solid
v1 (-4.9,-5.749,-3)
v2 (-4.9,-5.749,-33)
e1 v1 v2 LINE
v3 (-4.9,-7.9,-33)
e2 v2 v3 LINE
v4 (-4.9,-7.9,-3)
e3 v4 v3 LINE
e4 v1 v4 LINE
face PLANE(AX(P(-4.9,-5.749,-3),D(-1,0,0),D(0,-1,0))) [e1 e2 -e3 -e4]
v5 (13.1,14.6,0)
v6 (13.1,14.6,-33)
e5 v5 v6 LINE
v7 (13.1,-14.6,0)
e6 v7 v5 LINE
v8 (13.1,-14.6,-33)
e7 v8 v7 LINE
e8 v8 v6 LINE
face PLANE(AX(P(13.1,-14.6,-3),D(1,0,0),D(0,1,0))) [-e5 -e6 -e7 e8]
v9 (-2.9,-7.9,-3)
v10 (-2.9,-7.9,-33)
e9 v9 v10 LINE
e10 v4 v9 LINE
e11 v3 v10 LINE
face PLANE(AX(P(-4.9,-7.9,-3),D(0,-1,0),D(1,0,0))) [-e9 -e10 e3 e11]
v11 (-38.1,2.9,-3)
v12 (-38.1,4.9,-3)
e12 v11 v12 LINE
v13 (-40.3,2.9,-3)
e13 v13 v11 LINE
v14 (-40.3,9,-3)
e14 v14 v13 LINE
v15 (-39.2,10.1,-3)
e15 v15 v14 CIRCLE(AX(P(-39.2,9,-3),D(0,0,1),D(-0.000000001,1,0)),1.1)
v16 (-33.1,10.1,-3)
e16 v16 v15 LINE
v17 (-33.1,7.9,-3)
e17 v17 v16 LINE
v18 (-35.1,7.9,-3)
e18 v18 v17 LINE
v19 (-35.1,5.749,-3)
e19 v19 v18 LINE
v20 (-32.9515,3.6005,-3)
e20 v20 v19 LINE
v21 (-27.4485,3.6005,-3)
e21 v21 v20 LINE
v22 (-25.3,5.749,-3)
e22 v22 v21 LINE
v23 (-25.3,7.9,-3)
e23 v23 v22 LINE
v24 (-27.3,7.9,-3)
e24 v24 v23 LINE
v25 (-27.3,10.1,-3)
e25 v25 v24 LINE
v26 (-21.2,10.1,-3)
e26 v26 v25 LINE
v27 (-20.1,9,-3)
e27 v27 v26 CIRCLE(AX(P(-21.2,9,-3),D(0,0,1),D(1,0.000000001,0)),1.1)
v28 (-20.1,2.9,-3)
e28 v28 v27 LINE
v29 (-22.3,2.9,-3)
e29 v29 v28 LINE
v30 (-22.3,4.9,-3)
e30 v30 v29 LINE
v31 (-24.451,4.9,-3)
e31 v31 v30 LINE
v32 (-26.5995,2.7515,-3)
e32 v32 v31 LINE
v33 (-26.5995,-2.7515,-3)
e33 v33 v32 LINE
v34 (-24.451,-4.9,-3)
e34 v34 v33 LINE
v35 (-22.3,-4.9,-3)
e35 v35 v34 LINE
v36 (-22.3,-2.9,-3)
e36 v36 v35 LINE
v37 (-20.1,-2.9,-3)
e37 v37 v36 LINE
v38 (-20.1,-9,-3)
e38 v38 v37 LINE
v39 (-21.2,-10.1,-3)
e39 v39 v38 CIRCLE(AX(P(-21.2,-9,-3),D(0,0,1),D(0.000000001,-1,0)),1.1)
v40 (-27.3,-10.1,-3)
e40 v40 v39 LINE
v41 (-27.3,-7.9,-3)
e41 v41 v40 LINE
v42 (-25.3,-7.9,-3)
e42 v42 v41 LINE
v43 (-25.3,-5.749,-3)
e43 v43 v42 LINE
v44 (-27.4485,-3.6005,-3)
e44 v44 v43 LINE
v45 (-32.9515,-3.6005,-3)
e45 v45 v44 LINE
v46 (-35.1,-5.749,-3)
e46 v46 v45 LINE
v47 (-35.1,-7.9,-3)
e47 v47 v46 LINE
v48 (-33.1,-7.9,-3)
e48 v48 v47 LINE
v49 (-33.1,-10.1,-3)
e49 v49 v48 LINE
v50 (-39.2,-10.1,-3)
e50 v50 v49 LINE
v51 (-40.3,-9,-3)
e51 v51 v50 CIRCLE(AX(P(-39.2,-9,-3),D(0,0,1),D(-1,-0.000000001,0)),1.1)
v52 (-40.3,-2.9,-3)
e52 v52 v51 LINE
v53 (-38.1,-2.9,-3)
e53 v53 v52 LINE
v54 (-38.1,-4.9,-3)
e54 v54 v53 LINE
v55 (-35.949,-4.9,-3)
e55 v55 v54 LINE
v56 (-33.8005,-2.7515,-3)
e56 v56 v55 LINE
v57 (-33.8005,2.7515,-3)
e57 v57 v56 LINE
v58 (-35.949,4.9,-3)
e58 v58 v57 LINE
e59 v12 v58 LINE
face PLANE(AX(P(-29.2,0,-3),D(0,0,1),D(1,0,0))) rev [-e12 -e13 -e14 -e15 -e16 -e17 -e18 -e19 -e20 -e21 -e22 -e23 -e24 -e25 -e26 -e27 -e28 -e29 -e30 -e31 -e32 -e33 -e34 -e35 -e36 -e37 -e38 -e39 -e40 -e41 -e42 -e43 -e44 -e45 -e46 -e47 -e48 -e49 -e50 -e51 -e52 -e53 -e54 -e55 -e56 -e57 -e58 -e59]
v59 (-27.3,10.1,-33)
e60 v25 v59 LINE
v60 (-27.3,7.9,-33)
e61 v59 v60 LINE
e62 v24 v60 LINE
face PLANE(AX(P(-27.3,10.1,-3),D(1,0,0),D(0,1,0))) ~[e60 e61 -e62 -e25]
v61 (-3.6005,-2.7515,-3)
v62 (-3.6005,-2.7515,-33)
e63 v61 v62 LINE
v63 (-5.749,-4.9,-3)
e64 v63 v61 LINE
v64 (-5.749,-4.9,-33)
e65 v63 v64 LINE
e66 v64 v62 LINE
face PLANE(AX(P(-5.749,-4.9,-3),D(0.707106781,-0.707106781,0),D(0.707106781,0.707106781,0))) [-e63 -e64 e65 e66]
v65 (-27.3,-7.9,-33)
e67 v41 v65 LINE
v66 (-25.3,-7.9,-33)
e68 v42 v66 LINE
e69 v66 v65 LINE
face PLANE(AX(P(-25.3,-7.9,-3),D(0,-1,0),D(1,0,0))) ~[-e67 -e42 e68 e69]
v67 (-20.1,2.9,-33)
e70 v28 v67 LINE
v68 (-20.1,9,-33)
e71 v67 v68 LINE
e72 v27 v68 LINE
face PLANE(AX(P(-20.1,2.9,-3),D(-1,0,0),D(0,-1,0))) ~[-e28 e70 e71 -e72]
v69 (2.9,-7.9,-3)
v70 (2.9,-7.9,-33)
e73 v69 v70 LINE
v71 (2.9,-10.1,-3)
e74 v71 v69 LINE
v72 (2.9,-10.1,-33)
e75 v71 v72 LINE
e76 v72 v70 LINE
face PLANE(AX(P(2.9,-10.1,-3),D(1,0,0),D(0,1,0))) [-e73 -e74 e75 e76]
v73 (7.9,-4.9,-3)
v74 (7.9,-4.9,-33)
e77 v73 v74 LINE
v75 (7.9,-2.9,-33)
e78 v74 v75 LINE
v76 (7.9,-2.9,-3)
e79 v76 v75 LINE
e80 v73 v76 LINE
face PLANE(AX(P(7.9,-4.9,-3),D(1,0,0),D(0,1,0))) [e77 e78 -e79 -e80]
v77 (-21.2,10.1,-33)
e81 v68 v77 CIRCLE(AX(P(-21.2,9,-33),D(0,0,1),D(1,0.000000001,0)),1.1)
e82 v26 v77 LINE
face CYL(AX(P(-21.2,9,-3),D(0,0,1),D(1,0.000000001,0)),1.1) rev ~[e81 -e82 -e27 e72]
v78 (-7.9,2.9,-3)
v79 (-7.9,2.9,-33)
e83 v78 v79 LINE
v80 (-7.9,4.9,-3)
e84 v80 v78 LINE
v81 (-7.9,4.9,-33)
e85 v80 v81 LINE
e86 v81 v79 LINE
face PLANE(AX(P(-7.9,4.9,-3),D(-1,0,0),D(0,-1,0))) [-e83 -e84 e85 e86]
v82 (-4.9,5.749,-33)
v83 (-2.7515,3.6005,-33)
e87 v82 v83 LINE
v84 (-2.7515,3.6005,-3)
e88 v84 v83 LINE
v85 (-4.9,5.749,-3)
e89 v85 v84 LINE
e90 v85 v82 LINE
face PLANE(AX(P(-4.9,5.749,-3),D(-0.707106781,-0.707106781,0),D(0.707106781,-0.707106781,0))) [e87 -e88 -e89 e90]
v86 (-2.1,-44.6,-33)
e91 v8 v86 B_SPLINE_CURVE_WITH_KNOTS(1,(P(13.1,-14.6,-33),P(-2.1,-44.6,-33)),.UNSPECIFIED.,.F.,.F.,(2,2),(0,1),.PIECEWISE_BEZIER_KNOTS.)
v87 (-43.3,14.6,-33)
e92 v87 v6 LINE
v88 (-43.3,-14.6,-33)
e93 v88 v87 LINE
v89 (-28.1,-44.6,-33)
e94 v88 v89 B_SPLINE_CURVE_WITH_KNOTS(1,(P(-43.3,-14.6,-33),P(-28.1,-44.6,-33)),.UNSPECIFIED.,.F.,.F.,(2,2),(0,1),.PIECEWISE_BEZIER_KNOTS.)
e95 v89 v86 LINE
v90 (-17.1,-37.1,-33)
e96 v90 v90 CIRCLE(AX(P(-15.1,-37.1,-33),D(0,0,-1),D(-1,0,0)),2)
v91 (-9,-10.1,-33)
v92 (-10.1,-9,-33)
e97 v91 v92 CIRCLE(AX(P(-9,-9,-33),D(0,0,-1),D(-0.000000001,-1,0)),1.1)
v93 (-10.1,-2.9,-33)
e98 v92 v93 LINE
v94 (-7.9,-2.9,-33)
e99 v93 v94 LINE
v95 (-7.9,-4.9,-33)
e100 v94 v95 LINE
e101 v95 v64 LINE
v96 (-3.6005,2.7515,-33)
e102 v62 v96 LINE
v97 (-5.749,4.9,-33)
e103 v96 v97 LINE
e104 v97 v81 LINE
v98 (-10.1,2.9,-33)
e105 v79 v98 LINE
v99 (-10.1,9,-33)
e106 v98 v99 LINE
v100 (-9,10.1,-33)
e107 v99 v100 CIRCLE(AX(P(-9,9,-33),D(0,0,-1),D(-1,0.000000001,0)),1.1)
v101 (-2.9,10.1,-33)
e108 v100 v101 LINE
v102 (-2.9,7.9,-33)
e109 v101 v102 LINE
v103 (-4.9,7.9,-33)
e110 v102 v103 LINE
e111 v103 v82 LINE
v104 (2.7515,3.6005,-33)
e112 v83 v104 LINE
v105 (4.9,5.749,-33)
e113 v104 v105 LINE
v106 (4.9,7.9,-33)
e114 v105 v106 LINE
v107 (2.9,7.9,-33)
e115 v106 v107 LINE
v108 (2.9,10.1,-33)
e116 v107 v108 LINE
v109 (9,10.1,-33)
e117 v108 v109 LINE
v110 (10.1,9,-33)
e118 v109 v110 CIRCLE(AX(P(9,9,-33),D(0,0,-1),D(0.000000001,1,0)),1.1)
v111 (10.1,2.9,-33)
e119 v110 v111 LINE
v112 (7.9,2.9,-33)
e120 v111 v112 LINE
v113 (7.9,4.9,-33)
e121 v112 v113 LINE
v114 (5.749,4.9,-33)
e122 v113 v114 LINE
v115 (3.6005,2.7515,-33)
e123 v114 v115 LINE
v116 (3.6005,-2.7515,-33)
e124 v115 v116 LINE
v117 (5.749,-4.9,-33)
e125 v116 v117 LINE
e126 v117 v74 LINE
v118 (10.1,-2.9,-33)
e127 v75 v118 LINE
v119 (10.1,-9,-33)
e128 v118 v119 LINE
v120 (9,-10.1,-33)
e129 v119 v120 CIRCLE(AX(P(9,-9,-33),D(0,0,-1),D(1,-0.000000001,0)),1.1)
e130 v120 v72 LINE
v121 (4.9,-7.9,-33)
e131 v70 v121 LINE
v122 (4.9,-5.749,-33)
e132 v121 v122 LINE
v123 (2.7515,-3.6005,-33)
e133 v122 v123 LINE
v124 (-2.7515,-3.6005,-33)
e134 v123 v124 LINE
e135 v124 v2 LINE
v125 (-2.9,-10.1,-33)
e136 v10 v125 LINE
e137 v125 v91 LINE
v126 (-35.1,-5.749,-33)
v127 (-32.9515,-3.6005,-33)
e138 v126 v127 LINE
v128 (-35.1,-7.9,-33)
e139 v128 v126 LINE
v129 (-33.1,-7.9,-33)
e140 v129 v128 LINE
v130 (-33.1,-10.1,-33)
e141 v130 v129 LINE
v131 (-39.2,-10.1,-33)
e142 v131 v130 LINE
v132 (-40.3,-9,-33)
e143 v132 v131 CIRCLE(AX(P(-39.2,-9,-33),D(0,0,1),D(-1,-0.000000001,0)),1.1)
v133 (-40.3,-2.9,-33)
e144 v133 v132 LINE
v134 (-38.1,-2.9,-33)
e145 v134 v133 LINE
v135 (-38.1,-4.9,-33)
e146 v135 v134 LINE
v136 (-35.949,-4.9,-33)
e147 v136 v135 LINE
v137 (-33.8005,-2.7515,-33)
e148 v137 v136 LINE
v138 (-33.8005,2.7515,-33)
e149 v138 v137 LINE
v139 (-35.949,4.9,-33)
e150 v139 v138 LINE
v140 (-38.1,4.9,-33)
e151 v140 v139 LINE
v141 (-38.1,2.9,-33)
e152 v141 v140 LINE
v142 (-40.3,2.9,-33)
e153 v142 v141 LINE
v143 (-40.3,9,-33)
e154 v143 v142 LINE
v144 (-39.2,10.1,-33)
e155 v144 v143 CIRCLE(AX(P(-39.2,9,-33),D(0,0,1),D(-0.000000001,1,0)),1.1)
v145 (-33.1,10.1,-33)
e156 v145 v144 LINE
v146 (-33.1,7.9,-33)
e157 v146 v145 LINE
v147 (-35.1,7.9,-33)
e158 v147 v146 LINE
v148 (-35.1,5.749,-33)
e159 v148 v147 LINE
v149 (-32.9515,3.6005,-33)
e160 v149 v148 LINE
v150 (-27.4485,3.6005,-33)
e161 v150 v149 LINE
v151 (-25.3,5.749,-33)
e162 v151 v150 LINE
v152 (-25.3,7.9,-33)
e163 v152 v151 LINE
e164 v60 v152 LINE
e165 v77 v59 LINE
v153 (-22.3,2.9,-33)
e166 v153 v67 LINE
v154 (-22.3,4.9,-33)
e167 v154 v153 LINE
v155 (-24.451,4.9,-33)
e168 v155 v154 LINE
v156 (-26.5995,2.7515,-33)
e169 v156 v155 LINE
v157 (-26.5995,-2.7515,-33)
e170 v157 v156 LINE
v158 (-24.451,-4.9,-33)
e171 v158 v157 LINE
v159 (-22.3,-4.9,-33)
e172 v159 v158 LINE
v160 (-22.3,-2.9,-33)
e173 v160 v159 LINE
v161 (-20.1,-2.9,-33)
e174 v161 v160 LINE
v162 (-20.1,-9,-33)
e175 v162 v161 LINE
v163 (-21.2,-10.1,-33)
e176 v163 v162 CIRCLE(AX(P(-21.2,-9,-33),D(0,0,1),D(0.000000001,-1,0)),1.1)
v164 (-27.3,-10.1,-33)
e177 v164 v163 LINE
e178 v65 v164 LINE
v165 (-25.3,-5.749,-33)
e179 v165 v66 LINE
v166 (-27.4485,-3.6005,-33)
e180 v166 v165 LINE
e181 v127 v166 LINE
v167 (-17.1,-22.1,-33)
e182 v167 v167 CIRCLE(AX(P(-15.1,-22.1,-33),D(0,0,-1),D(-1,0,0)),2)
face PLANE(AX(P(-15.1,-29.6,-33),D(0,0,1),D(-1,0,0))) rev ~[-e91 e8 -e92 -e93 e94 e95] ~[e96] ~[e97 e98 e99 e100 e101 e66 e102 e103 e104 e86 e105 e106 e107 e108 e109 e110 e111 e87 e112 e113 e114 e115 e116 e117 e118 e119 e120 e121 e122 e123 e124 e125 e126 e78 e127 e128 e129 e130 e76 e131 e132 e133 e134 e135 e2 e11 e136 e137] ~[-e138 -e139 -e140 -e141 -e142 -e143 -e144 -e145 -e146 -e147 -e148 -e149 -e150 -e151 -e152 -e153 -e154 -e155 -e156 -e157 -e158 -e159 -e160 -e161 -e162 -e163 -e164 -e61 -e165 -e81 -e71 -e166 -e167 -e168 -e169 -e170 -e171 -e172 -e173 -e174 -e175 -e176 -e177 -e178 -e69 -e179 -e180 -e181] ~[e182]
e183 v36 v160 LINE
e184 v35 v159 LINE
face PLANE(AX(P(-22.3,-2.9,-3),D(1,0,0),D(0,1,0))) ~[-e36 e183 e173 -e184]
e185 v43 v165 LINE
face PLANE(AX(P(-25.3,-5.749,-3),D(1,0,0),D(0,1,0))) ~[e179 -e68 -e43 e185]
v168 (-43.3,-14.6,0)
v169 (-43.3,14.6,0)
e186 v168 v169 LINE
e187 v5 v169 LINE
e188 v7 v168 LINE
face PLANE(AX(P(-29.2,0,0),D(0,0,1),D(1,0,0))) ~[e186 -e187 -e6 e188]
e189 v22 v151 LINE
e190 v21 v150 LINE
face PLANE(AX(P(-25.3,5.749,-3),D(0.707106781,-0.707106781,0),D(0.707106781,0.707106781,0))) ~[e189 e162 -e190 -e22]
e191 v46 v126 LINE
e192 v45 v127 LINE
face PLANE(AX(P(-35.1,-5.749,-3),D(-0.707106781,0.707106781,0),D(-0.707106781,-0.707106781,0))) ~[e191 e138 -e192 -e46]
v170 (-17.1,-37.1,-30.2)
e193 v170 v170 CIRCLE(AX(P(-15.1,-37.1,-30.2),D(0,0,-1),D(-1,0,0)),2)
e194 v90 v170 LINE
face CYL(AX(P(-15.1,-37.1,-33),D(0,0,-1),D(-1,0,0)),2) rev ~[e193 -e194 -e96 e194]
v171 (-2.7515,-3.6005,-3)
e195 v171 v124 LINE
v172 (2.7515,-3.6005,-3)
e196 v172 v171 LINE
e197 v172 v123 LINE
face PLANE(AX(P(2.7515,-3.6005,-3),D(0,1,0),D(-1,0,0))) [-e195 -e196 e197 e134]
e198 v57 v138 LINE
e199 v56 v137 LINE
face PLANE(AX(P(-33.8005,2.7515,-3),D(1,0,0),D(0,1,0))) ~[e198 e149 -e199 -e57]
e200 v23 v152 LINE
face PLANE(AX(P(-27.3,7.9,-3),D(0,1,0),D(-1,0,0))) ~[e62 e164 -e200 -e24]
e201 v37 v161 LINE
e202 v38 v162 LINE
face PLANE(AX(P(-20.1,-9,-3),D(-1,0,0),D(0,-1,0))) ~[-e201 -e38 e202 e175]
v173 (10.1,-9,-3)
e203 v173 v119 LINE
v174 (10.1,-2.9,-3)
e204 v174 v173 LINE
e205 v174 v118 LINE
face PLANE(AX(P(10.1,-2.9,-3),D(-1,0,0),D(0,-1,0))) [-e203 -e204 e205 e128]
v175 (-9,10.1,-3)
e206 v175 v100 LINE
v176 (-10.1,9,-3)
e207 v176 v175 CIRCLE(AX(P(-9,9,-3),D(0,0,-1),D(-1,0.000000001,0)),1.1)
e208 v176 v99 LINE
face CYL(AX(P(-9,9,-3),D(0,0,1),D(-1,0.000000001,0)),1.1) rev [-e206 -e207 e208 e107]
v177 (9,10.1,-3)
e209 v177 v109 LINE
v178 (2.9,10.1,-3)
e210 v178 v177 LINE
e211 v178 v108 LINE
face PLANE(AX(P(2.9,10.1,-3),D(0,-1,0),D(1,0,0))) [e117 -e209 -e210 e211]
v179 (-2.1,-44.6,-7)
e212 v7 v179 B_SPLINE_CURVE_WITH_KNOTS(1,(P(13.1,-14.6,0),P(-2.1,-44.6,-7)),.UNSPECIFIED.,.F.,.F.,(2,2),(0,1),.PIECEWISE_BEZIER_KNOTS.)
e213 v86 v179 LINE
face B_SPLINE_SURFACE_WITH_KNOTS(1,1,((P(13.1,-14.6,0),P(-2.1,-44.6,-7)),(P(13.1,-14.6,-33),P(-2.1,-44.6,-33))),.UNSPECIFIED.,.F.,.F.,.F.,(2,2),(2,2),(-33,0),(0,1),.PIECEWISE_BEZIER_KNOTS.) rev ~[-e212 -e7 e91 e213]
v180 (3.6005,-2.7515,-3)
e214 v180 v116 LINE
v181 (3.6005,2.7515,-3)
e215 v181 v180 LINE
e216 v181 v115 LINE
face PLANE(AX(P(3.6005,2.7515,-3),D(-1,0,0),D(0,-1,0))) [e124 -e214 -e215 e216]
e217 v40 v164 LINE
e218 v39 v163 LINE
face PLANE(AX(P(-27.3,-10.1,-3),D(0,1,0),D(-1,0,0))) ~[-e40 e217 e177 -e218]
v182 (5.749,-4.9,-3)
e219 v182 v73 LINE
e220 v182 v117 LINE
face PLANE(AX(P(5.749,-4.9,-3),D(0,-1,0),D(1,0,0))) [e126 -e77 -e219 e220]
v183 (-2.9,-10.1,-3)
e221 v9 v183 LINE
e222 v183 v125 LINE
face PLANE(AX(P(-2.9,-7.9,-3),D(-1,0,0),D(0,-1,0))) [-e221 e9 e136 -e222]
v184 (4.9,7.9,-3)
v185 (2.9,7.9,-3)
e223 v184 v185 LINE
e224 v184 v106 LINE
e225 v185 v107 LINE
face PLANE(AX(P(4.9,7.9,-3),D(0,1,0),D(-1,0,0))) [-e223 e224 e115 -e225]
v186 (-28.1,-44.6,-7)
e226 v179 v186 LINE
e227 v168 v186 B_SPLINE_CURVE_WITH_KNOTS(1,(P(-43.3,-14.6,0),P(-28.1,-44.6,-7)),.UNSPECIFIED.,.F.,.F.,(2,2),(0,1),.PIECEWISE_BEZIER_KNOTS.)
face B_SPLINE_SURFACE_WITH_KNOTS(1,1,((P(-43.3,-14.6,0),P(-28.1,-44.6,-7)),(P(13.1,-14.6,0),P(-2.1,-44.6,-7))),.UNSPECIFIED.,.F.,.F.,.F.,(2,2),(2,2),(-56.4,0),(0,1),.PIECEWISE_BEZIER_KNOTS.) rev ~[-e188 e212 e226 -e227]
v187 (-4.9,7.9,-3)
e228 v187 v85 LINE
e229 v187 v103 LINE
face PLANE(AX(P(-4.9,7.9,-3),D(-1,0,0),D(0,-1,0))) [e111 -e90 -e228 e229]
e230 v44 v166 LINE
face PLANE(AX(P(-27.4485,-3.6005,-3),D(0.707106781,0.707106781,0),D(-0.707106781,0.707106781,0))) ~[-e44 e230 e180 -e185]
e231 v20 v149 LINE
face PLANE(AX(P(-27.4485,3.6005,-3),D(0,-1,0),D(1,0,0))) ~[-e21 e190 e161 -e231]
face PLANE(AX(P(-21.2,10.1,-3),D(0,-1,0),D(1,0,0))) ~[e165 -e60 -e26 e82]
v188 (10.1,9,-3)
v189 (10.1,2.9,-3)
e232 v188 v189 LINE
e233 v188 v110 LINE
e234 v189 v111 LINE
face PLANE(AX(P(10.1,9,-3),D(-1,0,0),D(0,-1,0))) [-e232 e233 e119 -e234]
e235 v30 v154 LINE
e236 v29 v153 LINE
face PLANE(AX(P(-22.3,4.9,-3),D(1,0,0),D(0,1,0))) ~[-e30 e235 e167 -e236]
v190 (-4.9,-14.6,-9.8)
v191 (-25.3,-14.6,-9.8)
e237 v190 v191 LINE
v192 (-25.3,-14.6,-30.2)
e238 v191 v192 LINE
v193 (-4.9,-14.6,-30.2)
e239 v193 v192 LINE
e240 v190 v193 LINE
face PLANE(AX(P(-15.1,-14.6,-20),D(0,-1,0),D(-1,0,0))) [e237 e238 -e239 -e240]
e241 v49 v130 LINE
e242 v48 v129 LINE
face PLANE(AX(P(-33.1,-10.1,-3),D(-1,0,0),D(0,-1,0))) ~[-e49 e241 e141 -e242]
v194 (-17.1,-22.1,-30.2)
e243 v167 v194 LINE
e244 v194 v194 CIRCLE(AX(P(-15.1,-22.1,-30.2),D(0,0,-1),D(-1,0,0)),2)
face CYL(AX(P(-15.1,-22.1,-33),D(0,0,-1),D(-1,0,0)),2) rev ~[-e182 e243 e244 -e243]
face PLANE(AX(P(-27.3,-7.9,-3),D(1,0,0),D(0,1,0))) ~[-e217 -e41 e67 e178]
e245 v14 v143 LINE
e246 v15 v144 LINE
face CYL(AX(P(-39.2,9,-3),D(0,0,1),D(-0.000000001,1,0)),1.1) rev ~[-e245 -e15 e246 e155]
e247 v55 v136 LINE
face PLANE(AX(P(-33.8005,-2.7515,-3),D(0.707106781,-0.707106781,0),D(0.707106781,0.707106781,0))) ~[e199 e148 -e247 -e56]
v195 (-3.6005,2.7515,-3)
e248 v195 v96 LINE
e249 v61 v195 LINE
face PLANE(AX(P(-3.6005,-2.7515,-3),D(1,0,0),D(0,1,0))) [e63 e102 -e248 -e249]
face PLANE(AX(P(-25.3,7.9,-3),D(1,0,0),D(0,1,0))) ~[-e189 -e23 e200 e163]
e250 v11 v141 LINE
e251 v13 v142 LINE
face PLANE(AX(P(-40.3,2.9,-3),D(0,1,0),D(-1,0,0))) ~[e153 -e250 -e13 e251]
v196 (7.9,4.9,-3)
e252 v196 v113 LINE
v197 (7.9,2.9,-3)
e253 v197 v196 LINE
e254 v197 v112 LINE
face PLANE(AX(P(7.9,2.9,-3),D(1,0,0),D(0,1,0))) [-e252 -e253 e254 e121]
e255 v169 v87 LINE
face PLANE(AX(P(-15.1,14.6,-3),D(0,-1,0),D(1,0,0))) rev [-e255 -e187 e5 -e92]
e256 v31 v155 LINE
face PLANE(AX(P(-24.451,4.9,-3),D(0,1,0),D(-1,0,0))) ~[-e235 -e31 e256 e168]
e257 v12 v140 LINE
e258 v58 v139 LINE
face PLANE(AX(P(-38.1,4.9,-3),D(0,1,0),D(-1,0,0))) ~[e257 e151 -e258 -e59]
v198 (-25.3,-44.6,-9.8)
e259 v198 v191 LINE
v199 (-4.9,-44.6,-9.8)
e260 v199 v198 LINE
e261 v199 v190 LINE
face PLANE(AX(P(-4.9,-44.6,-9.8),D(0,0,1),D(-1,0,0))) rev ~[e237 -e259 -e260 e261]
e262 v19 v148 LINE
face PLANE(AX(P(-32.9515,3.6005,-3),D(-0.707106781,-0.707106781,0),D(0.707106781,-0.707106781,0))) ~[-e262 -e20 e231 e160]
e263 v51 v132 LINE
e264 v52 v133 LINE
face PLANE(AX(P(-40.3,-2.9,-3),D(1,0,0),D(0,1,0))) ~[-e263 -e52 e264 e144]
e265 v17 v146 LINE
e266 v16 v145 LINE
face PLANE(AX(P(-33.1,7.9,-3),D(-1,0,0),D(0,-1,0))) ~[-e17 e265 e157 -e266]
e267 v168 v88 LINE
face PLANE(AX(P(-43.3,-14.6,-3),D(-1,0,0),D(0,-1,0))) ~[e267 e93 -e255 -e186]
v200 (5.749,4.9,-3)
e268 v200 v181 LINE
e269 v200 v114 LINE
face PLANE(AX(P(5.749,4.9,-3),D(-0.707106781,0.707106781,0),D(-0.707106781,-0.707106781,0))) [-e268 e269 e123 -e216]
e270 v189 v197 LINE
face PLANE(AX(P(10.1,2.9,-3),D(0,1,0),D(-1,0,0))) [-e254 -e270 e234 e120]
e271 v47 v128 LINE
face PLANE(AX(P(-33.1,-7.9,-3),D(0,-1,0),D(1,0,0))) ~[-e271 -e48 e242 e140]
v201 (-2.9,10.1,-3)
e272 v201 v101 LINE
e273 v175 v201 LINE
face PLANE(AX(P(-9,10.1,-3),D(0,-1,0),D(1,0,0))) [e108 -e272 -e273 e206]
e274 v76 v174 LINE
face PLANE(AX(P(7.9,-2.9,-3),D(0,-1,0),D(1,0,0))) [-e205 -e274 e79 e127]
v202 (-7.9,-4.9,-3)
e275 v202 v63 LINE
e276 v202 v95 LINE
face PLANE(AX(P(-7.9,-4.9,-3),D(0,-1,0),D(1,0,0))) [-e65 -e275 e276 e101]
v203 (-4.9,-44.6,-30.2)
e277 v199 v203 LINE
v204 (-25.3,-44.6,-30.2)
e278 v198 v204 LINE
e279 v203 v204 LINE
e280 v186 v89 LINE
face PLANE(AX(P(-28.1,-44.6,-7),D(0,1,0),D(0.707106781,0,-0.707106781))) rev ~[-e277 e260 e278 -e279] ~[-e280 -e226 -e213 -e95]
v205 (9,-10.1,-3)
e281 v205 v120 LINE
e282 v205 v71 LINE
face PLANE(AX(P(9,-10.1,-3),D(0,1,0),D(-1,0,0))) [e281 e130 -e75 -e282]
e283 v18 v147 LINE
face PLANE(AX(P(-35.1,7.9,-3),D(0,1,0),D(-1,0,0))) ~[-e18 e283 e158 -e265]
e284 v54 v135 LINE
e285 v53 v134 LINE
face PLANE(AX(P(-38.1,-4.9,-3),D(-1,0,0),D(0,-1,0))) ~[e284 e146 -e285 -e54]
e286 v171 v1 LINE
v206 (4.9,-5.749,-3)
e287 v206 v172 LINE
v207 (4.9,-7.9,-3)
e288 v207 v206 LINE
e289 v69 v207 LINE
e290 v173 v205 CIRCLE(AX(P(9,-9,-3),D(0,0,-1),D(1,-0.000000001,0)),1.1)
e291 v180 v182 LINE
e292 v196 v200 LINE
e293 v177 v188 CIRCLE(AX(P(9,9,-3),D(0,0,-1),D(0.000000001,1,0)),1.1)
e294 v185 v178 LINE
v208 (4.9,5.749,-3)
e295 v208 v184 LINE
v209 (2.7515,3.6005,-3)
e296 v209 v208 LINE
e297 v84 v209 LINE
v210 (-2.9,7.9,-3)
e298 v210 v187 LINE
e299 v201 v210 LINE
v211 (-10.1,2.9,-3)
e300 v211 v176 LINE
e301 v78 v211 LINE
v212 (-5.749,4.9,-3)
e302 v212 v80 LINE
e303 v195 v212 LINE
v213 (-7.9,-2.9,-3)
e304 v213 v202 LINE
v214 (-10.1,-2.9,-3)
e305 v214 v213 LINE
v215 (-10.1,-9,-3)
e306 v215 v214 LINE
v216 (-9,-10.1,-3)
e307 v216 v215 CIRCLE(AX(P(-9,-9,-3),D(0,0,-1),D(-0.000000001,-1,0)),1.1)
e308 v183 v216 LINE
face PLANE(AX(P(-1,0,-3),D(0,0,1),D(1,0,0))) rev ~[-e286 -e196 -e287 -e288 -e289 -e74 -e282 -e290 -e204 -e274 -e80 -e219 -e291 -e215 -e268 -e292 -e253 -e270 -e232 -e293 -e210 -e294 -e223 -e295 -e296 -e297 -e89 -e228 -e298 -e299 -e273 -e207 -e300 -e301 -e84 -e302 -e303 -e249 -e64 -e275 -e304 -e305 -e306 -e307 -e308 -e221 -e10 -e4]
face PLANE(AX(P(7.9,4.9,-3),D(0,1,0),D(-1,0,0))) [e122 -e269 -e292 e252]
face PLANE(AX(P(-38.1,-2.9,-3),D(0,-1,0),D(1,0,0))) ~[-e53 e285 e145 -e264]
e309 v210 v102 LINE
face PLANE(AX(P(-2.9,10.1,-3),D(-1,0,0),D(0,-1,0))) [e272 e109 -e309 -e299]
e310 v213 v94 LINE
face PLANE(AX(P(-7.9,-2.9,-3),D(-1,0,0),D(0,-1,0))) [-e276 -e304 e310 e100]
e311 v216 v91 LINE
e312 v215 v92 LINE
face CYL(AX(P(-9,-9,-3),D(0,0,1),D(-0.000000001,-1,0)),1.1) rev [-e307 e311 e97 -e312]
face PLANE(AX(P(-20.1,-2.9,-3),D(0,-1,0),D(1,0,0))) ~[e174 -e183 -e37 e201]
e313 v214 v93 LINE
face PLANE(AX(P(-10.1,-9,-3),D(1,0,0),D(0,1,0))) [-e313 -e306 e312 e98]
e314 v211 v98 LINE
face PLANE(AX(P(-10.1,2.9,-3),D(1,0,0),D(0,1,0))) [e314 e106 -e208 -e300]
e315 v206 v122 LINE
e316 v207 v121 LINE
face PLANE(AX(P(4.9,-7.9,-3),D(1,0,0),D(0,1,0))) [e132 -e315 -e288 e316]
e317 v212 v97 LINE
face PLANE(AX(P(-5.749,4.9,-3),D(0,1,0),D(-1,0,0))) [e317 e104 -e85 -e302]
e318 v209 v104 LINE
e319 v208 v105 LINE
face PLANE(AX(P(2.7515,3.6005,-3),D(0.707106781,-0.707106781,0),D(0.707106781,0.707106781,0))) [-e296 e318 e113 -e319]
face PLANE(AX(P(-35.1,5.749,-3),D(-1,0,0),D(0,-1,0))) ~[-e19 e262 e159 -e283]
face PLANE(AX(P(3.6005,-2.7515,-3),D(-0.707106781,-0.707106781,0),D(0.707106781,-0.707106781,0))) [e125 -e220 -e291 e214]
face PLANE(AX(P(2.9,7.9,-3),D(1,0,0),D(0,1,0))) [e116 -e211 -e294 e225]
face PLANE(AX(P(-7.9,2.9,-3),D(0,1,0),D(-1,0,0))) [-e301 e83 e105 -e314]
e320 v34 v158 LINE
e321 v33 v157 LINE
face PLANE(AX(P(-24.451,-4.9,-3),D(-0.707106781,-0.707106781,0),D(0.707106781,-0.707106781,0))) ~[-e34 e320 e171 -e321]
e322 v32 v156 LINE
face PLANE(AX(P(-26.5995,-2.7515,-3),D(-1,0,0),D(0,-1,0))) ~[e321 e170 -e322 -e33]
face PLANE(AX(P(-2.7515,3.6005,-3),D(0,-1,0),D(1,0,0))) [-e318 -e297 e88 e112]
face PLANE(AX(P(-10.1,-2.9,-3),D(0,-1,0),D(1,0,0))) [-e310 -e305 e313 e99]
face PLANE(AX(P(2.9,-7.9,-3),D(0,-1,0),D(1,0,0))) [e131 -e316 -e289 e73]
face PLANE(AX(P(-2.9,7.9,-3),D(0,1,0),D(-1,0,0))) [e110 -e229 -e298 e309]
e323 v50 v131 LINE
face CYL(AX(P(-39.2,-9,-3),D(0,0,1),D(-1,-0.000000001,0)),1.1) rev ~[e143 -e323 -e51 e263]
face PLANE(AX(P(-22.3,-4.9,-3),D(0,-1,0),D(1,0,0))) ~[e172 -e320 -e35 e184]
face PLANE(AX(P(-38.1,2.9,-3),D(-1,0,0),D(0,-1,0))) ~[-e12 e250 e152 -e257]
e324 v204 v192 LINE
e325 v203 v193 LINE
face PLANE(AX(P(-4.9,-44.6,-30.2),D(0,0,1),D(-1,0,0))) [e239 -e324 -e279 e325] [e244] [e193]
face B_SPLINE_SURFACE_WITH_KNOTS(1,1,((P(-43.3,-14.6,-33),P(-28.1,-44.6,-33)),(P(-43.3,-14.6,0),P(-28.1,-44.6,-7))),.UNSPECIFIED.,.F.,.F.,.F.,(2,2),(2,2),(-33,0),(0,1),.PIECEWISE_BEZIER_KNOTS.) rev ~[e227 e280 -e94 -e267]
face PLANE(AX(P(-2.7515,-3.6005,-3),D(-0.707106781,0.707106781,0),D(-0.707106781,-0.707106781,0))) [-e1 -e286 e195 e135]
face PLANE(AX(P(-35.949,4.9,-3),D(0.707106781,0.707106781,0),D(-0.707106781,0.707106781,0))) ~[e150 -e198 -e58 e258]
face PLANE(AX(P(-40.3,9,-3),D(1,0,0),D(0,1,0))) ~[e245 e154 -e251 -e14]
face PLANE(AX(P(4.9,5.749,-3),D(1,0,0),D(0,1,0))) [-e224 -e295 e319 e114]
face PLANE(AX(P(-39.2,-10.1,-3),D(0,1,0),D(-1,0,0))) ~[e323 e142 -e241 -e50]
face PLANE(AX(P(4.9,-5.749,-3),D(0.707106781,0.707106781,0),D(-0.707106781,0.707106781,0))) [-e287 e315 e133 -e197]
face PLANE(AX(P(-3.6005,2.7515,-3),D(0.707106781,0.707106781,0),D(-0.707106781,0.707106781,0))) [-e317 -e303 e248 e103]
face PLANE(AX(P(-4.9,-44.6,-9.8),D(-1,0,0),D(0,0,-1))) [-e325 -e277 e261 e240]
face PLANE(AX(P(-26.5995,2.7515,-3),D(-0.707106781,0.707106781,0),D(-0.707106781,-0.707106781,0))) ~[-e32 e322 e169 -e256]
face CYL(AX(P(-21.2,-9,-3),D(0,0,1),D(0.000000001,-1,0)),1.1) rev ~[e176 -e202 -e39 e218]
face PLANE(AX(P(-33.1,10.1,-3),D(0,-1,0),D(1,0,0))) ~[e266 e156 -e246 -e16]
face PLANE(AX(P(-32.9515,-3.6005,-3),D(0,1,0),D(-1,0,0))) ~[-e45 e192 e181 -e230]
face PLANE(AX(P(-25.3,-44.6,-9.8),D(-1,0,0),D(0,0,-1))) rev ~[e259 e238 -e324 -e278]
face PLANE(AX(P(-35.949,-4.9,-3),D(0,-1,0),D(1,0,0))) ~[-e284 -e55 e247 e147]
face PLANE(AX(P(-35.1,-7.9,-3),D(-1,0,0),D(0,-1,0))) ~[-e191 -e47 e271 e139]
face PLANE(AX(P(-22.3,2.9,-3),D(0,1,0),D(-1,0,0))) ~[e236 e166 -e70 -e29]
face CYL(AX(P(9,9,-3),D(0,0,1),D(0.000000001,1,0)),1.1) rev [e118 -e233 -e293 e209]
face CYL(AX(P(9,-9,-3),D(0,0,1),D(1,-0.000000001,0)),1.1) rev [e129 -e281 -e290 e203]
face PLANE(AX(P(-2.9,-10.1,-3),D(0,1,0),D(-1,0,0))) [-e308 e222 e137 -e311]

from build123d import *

# Parameters (mm, degrees)
SKETCH1_W           = 28.2
SKETCH1_H           = 29.2
BOSS_EXTRUDE1_DEPTH = 3
BOSS_EXTRUDE2_START = -3
SKETCH1_3_W         = 28.2
SKETCH1_3_H         = 29.2
BOSS_EXTRUDE2_DEPTH = 30
SKETCH3_3_W         = 20.4
SKETCH3_3_H         = 20.4
CUT_EXTRUDE1_DEPTH  = 30
CUT_EXTRUDE2_REACH  = 72.378
SKETCH4_R           = 2


with BuildPart() as part:
    # Sketch1 → Boss-Extrude1 (new body)
    with BuildSketch(Plane.XY):
        with Locations((-1, 0)):
            Rectangle(SKETCH1_W, SKETCH1_H)
    boss_extrude1 = extrude(amount=-BOSS_EXTRUDE1_DEPTH)

    # Sketch1<3> → Boss-Extrude2 (add)
    with BuildSketch(Plane.XY.offset(BOSS_EXTRUDE2_START)):
        with Locations((-1, 0)):
            Rectangle(SKETCH1_3_W, SKETCH1_3_H)
        with BuildLine():
            Line((-10.1, 2.9), (-10.1, 9))
            ThreePointArc((-10.1, 9), (-9.777817459, 9.777817459), (-9, 10.1))
            Line((-9, 10.1), (-2.9, 10.1))
            Line((-2.9, 10.1), (-2.9, 7.9))
            Line((-2.9, 7.9), (-4.9, 7.9))
            Line((-4.9, 7.9), (-4.9, 5.749))
            Line((-4.9, 5.749), (-2.7515, 3.6005))
            Line((-2.7515, 3.6005), (2.7515, 3.6005))
            Line((2.7515, 3.6005), (4.9, 5.749))
            Line((4.9, 5.749), (4.9, 7.9))
            Line((4.9, 7.9), (2.9, 7.9))
            Line((2.9, 7.9), (2.9, 10.1))
            Line((2.9, 10.1), (9, 10.1))
            ThreePointArc((9, 10.1), (9.777817459, 9.777817459), (10.1, 9))
            Line((10.1, 9), (10.1, 2.9))
            Line((10.1, 2.9), (7.9, 2.9))
            Line((7.9, 2.9), (7.9, 4.9))
            Line((7.9, 4.9), (5.749, 4.9))
            Line((5.749, 4.9), (3.6005, 2.7515))
            Line((3.6005, 2.7515), (3.6005, -2.7515))
            Line((3.6005, -2.7515), (5.749, -4.9))
            Line((5.749, -4.9), (7.9, -4.9))
            Line((7.9, -4.9), (7.9, -2.9))
            Line((7.9, -2.9), (10.1, -2.9))
            Line((10.1, -2.9), (10.1, -9))
            ThreePointArc((10.1, -9), (9.777817459, -9.777817459), (9, -10.1))
            Line((9, -10.1), (2.9, -10.1))
            Line((2.9, -10.1), (2.9, -7.9))
            Line((2.9, -7.9), (4.9, -7.9))
            Line((4.9, -7.9), (4.9, -5.749))
            Line((4.9, -5.749), (2.7515, -3.6005))
            Line((2.7515, -3.6005), (-2.7515, -3.6005))
            Line((-2.7515, -3.6005), (-4.9, -5.749))
            Line((-4.9, -5.749), (-4.9, -7.9))
            Line((-4.9, -7.9), (-2.9, -7.9))
            Line((-2.9, -7.9), (-2.9, -10.1))
            Line((-2.9, -10.1), (-9, -10.1))
            ThreePointArc((-9, -10.1), (-9.777817459, -9.777817459), (-10.1, -9))
            Line((-10.1, -9), (-10.1, -2.9))
            Line((-10.1, -2.9), (-7.9, -2.9))
            Line((-7.9, -2.9), (-7.9, -4.9))
            Line((-7.9, -4.9), (-5.749, -4.9))
            Line((-5.749, -4.9), (-3.6005, -2.7515))
            Line((-3.6005, -2.7515), (-3.6005, 2.7515))
            Line((-3.6005, 2.7515), (-5.749, 4.9))
            Line((-5.749, 4.9), (-7.9, 4.9))
            Line((-7.9, 4.9), (-7.9, 2.9))
            Line((-7.9, 2.9), (-10.1, 2.9))
        make_face(mode=Mode.SUBTRACT)
    boss_extrude2 = extrude(amount=-BOSS_EXTRUDE2_DEPTH)

    # Mirror1: Boss-Extrude1, Boss-Extrude2 across plane
    add(boss_extrude1.mirror(Plane(origin=(-15.1, 0, -3), x_dir=(0, 0, 1), z_dir=(-1, 0, 0))))
    add(boss_extrude2.mirror(Plane(origin=(-15.1, 0, -3), x_dir=(0, 0, 1), z_dir=(-1, 0, 0))))

    # Sketch3 → section 1 of loft1
    with BuildSketch(Plane(origin=(0, -44.6, 0), x_dir=(-1, 0, 0), z_dir=(0, -1, 0)), mode=Mode.PRIVATE) as loft1_s1:
        with BuildLine():
            Line((2.1, 7), (28.1, 7))
            Line((28.1, 7), (28.1, 33))
            Line((28.1, 33), (2.1, 33))
            Line((2.1, 33), (2.1, 7))
        make_face()
    # loft from a face of the part (loft1)
    loft([part.faces().sort_by_distance((-15.1, -14.6, -16.5))[0], loft1_s1.sketch])

    # Sketch3<3> → Cut-Extrude1 (cut)
    with BuildSketch(Plane(origin=(0, -44.6, 0), x_dir=(-1, 0, 0), z_dir=(0, -1, 0))):
        with Locations((15.1, 20)):
            Rectangle(SKETCH3_3_W, SKETCH3_3_H)
    extrude(amount=-CUT_EXTRUDE1_DEPTH, mode=Mode.SUBTRACT)

    # Sketch4 → Cut-Extrude2 (cut, up to next)
    with BuildSketch(Plane(origin=(0, 0, -33), x_dir=(-1, 0, 0), z_dir=(0, 0, -1)), mode=Mode.PRIVATE) as cut_extrude2_sk1:
        with Locations((15.1, -37.1)):
            Circle(SKETCH4_R)
    cut_extrude2_tool1 = extrude(cut_extrude2_sk1.sketch, amount=-CUT_EXTRUDE2_REACH, mode=Mode.PRIVATE) & part.part
    # Sketch4 → Cut-Extrude2 (cut, up to next)
    with BuildSketch(Plane(origin=(0, 0, -33), x_dir=(-1, 0, 0), z_dir=(0, 0, -1)), mode=Mode.PRIVATE) as cut_extrude2_sk2:
        with Locations((15.1, -22.1)):
            Circle(SKETCH4_R)
    cut_extrude2_tool2 = extrude(cut_extrude2_sk2.sketch, amount=-CUT_EXTRUDE2_REACH, mode=Mode.PRIVATE) & part.part
    add(cut_extrude2_tool1.solids().sort_by_distance((-15.1, -37.1, -33))[0], mode=Mode.SUBTRACT)
    add(cut_extrude2_tool2.solids().sort_by_distance((-15.1, -22.1, -33))[0], mode=Mode.SUBTRACT)


solid = part.part
